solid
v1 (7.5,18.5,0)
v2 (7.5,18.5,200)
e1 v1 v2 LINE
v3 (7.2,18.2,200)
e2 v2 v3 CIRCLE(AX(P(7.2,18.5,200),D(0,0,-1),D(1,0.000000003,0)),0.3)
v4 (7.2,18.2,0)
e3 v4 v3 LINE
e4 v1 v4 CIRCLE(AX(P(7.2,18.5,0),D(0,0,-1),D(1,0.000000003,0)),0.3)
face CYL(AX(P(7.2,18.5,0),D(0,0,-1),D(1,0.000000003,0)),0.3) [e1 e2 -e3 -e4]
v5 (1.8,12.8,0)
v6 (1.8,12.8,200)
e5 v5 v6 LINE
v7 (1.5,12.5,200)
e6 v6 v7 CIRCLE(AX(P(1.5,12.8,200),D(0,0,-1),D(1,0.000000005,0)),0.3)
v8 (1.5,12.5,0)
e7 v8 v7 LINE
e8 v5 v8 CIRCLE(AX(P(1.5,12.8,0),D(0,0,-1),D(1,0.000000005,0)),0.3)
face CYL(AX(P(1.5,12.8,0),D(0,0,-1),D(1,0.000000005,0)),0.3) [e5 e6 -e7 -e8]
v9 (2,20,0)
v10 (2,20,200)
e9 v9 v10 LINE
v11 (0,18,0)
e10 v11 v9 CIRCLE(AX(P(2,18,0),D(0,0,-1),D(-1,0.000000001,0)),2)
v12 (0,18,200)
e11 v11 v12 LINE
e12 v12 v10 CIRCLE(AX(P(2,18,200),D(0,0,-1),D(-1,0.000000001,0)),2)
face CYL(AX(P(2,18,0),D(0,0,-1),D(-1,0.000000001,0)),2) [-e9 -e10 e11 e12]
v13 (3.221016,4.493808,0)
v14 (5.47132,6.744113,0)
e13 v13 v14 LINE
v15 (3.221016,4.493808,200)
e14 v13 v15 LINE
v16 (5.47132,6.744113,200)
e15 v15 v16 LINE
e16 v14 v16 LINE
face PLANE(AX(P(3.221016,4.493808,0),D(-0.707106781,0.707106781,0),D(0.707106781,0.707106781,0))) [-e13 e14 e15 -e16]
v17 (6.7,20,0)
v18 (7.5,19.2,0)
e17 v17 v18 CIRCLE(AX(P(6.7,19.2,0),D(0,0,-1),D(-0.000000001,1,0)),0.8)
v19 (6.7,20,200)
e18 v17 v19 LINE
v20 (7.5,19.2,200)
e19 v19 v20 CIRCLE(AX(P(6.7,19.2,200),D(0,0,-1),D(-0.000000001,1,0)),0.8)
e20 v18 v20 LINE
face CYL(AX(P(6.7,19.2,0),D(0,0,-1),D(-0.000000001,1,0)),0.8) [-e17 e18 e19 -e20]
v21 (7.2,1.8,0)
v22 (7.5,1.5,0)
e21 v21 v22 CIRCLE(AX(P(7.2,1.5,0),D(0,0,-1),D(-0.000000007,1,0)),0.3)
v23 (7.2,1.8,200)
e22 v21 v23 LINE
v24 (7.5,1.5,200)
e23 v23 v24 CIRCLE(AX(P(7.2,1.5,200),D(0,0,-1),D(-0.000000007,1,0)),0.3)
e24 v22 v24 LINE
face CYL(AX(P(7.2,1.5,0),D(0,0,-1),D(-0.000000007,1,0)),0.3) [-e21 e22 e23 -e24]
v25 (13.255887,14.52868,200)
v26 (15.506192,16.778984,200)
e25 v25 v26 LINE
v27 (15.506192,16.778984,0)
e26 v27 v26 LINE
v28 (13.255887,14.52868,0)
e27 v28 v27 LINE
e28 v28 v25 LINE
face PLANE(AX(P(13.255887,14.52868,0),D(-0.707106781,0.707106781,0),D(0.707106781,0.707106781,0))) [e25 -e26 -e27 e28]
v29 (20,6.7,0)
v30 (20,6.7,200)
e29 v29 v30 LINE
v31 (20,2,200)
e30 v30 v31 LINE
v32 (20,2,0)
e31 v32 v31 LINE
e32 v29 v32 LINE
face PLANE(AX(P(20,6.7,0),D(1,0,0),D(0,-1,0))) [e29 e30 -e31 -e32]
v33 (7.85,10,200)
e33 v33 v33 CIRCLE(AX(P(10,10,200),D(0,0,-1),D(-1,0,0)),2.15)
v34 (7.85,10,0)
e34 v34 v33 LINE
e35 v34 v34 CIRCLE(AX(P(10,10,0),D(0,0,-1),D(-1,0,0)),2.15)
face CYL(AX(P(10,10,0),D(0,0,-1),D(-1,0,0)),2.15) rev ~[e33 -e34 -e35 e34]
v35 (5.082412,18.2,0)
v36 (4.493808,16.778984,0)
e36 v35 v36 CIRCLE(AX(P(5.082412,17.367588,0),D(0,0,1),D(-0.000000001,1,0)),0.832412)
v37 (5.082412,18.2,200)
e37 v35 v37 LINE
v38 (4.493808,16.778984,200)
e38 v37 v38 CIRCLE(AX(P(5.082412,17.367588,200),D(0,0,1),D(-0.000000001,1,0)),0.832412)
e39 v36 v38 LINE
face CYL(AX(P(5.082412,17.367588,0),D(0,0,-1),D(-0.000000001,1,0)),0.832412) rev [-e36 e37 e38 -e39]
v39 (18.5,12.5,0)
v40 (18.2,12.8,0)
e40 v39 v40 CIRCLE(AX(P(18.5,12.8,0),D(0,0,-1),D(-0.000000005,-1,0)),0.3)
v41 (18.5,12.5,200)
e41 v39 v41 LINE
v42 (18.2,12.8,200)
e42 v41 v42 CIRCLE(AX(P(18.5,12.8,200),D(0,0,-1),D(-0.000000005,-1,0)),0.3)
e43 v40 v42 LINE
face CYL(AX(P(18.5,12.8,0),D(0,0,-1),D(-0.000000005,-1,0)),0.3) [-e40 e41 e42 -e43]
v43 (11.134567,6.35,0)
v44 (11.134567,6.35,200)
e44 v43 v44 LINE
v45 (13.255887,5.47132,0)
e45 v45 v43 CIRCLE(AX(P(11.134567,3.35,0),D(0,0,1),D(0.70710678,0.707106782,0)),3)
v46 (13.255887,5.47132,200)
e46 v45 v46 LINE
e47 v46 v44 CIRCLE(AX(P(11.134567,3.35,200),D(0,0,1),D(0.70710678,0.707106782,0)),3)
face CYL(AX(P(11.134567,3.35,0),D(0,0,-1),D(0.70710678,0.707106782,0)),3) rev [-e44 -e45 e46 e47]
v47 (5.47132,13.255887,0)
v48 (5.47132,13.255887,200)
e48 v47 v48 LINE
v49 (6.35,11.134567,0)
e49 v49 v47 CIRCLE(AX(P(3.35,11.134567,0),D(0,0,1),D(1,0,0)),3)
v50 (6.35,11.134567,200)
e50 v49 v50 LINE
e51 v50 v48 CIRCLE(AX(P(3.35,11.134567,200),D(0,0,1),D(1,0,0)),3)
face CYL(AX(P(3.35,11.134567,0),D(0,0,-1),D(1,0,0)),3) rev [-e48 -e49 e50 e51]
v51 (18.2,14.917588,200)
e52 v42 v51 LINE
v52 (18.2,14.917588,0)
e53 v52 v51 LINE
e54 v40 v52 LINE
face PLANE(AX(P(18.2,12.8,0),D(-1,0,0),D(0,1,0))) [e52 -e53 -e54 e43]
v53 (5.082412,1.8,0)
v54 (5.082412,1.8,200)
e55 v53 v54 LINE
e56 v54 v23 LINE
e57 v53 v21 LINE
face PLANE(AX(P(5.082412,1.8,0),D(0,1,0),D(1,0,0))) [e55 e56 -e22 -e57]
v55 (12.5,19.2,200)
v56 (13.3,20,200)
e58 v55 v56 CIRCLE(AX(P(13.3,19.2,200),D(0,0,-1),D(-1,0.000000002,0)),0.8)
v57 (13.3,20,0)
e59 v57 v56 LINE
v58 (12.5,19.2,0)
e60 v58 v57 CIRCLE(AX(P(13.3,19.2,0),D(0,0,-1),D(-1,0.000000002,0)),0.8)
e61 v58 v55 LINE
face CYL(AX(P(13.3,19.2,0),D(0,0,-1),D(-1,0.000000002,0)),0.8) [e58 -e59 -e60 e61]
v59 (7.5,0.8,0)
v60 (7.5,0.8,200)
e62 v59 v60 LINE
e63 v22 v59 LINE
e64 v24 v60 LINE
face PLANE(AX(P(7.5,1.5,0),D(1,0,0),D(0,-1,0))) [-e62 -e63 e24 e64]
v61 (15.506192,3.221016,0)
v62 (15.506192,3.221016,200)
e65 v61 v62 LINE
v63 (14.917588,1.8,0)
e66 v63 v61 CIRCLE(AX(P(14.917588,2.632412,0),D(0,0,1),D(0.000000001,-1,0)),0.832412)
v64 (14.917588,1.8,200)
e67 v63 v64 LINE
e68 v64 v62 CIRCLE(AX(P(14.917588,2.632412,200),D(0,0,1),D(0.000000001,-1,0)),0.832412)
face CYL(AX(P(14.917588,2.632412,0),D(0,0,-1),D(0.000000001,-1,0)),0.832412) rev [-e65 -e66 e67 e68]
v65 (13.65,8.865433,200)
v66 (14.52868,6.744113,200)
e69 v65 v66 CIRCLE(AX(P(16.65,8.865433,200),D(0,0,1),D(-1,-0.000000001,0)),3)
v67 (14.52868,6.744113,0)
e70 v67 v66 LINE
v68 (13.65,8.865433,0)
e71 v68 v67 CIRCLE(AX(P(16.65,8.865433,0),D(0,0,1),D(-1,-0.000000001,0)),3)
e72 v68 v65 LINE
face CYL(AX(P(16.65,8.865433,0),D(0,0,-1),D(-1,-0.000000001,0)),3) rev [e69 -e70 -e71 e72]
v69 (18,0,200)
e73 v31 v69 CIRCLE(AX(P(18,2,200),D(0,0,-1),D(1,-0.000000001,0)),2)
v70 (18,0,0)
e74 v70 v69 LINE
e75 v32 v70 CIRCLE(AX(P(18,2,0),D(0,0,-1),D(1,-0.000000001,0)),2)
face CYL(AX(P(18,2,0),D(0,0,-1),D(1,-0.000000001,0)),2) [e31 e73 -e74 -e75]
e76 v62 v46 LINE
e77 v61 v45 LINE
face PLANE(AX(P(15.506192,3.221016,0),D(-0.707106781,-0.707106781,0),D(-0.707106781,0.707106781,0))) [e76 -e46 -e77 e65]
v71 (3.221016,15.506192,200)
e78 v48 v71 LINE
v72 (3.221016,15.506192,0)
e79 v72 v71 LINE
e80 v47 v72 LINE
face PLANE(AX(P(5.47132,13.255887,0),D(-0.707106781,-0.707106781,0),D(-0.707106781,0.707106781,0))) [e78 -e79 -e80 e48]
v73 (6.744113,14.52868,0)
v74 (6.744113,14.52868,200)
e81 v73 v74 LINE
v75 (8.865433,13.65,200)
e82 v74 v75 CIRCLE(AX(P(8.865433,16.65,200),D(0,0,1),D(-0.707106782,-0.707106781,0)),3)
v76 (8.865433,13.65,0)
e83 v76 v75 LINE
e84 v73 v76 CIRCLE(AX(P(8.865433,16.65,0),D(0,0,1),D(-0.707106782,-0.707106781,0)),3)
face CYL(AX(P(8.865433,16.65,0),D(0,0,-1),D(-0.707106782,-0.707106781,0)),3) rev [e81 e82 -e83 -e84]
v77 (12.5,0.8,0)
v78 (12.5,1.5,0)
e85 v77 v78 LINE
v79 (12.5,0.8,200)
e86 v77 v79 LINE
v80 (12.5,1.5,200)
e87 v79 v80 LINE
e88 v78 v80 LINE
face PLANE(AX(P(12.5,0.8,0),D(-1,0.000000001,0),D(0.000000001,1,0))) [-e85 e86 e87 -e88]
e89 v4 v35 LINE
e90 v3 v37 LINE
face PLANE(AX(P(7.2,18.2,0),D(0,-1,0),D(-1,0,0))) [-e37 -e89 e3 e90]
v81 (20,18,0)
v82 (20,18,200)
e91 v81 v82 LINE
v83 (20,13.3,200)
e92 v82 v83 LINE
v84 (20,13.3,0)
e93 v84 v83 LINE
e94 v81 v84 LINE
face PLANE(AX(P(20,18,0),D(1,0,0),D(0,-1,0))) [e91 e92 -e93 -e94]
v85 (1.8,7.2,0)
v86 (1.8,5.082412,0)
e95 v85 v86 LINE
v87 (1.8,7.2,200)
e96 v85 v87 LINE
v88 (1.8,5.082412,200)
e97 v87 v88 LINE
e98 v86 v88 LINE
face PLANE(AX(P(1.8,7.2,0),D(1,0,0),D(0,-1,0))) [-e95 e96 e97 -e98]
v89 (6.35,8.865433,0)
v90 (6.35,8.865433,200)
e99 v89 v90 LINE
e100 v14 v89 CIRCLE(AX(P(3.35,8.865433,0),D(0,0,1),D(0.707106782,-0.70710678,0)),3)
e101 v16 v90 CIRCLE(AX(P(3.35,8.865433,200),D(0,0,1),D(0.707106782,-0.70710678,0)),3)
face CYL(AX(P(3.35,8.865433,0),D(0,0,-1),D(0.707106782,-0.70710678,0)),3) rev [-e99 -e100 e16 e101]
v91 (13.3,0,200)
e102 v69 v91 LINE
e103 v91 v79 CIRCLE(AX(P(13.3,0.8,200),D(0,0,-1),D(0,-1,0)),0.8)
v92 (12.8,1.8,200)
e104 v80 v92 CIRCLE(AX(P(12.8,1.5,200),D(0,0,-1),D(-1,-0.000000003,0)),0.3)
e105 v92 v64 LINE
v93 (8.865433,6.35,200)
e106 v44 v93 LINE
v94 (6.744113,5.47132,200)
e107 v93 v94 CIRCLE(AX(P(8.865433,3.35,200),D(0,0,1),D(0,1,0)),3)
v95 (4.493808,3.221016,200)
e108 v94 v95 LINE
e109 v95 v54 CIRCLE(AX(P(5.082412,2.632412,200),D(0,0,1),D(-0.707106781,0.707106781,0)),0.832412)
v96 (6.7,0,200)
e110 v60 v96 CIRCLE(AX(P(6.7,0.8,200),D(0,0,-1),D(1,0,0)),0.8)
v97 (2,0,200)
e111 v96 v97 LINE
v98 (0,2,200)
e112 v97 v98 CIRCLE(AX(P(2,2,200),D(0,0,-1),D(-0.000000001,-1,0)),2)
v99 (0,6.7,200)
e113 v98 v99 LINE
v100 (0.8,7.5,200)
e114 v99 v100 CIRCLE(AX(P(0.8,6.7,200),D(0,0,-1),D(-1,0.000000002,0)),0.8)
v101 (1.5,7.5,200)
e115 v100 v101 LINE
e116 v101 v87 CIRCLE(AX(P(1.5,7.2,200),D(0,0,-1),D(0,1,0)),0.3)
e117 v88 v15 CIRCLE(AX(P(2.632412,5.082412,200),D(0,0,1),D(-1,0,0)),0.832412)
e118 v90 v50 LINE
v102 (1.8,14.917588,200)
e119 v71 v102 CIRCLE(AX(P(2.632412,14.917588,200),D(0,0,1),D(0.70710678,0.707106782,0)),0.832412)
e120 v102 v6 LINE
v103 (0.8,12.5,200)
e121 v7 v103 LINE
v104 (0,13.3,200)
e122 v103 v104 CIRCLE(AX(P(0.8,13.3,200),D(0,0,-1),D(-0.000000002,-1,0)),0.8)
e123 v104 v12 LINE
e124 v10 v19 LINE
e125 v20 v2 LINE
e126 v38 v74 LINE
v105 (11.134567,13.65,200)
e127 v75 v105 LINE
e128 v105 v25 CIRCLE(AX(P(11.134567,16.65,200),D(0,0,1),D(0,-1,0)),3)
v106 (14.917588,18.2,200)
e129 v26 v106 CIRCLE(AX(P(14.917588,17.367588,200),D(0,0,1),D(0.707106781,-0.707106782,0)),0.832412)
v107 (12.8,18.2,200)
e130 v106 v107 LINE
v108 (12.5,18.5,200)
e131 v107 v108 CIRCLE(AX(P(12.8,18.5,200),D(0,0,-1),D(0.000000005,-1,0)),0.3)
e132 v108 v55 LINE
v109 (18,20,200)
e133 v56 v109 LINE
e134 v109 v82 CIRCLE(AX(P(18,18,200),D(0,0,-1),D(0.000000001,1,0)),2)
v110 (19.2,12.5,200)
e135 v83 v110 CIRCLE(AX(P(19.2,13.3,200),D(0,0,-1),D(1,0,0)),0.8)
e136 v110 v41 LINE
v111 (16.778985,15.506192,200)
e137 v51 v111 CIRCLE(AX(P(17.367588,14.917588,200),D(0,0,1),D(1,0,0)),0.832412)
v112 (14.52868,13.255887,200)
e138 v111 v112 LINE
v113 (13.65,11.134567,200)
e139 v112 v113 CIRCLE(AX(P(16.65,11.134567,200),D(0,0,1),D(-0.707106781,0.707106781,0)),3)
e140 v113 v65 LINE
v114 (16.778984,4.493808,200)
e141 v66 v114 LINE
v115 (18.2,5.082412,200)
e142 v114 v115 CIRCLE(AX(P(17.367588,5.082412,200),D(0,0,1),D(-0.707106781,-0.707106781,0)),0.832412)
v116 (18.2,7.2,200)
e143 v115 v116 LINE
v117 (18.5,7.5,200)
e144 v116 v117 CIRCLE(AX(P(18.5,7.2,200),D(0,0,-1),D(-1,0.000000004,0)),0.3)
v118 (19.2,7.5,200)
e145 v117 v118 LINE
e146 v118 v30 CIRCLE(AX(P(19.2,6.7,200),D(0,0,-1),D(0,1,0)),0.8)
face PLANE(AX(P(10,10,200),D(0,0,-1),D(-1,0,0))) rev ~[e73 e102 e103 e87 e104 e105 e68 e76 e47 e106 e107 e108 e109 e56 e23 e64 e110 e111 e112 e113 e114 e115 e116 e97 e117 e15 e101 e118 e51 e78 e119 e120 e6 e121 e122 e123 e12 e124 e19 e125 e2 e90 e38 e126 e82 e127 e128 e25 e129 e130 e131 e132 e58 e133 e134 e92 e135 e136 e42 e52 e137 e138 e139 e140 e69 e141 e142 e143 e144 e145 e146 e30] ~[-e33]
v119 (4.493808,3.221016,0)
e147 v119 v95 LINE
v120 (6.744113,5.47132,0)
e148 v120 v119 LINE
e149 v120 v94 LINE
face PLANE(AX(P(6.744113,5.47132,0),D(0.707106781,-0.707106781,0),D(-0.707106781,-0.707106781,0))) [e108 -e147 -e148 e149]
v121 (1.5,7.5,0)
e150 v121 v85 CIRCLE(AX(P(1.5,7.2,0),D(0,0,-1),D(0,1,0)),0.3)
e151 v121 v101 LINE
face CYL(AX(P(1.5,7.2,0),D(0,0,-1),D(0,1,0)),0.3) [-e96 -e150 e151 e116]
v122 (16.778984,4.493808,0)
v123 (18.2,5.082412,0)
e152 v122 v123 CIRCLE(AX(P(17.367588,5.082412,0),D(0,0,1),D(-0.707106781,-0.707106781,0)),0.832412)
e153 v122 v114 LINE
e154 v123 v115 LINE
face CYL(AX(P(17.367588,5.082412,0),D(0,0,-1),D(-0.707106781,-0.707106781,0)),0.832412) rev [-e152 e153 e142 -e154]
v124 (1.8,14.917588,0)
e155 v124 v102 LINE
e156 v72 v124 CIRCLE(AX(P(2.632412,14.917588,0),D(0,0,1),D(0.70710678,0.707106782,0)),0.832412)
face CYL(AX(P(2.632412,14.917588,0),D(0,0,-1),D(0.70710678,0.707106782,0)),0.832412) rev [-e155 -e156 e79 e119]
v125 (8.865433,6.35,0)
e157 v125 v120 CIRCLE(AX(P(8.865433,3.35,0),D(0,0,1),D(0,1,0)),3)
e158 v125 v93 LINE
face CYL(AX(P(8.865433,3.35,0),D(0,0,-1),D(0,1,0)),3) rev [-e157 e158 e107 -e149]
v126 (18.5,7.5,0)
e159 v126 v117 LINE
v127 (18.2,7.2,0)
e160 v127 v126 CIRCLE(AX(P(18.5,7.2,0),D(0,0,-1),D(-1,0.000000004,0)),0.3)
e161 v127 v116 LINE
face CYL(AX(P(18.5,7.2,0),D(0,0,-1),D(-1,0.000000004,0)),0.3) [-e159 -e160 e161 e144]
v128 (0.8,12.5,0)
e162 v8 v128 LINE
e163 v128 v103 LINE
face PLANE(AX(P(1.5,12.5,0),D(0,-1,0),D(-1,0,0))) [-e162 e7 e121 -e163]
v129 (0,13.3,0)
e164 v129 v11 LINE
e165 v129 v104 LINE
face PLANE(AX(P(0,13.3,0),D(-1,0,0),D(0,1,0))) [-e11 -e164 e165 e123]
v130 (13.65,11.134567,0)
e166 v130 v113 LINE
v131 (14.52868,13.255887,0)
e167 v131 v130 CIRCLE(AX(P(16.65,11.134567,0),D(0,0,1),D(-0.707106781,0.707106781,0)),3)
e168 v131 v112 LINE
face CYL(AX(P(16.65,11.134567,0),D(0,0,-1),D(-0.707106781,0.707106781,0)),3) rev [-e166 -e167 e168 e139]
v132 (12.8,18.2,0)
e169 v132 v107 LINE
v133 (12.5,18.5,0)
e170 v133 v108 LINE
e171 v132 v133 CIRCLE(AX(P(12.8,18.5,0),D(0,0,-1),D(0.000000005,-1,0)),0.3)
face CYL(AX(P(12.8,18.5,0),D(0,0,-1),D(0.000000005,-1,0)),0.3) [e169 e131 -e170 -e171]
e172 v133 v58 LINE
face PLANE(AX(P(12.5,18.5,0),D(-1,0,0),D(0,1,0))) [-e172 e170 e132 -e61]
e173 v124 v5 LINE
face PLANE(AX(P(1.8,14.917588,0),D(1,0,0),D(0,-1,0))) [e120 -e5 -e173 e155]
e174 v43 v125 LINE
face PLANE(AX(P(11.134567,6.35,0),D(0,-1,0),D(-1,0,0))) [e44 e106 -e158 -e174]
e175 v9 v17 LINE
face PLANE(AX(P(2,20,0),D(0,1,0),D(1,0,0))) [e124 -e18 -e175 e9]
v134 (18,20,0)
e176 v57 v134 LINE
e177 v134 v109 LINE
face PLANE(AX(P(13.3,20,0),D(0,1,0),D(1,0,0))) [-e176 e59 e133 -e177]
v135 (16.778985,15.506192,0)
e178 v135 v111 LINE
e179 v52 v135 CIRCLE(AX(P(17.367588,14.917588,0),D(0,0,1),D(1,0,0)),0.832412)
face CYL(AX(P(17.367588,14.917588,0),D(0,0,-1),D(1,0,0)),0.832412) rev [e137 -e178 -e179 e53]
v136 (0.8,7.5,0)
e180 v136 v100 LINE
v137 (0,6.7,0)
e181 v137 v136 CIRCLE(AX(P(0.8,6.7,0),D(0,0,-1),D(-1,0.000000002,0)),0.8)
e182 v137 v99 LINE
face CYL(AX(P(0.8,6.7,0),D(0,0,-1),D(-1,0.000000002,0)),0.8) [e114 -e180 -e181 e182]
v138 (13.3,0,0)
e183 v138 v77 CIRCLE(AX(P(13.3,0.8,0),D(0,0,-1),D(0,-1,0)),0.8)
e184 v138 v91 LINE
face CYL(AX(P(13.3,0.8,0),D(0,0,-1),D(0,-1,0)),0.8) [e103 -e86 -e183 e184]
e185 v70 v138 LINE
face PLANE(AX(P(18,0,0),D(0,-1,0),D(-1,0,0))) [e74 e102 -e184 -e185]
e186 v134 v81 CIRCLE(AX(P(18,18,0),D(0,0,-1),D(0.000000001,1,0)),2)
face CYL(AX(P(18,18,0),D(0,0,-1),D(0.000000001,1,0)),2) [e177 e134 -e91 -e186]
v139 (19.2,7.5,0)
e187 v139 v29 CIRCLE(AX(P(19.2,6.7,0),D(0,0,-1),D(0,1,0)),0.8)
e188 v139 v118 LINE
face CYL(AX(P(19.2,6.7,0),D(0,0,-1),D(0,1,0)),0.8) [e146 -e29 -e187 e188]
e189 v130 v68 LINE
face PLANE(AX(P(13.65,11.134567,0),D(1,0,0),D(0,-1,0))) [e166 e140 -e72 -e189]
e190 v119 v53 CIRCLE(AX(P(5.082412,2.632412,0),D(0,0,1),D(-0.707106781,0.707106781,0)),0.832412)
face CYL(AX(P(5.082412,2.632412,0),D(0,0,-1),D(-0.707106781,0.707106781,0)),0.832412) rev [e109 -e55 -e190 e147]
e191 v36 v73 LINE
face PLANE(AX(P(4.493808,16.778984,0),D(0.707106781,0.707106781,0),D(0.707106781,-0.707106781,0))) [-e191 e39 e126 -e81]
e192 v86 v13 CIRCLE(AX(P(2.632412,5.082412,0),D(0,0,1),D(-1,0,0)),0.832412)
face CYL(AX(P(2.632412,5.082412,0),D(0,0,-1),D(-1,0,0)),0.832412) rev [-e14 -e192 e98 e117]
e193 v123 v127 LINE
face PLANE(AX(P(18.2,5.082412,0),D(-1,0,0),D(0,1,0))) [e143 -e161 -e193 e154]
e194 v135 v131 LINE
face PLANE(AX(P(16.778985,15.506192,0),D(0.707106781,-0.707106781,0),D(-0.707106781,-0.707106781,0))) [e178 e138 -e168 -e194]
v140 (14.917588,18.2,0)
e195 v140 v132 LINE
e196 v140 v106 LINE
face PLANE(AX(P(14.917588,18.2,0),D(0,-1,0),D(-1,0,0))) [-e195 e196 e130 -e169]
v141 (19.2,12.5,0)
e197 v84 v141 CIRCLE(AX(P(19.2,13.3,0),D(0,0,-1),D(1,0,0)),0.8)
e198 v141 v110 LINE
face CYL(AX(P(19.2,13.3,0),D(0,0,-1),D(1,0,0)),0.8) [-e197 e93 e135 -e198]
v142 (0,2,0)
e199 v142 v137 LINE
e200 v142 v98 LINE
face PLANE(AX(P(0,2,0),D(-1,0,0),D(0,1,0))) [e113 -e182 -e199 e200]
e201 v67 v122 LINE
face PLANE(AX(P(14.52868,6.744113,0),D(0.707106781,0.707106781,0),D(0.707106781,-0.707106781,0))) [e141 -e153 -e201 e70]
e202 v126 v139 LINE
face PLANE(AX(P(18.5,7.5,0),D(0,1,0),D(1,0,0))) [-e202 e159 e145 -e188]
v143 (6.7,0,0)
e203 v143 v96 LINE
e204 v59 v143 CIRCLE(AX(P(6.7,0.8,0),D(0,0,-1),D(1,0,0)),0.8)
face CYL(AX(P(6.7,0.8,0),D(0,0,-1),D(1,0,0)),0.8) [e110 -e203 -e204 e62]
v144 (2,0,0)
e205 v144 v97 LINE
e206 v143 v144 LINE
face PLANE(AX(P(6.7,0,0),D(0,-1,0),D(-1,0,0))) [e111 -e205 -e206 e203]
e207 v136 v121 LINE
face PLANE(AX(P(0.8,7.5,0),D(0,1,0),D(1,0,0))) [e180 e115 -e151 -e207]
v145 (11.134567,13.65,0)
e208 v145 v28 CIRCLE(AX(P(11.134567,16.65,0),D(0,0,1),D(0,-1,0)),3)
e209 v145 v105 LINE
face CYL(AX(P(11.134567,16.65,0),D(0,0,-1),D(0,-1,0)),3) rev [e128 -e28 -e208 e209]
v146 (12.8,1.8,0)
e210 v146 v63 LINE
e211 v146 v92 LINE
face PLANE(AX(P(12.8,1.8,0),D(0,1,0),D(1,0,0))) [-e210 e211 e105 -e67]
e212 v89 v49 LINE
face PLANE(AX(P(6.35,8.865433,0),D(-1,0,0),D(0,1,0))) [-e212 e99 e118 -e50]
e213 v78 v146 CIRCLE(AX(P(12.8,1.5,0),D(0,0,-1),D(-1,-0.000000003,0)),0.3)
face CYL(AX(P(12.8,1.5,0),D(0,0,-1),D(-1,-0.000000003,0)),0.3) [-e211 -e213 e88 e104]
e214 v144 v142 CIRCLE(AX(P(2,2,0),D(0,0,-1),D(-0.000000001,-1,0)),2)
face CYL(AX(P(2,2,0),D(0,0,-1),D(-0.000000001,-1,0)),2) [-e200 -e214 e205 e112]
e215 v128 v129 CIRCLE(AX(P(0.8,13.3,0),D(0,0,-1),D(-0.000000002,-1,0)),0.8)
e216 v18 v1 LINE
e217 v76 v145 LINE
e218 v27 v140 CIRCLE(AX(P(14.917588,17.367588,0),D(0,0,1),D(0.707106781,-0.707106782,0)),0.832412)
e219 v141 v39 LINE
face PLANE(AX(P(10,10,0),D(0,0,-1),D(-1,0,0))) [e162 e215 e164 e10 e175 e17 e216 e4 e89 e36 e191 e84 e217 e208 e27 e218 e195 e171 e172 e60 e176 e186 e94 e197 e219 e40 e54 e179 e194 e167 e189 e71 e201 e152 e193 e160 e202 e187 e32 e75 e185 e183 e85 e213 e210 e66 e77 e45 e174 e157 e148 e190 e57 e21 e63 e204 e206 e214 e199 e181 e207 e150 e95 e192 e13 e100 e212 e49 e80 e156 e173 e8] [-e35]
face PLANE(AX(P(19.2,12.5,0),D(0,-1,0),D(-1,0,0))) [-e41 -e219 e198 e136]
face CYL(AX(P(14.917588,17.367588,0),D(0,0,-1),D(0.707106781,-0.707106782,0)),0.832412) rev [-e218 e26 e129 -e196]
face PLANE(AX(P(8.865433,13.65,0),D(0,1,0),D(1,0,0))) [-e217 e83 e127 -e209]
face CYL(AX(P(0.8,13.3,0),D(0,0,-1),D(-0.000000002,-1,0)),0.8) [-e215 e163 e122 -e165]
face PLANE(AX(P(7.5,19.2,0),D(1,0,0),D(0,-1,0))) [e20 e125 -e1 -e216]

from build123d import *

# Parameters (mm, degrees)
SKETCH1_R           = 2.15
BOSS_EXTRUDE1_DEPTH = 200


with BuildPart() as part:
    # Sketch1 → Boss-Extrude1 (new body)
    with BuildSketch(Plane(origin=(0, 0, 0), x_dir=(-1, 0, 0), z_dir=(0, 0, -1))):
        with BuildLine():
            Line((-12.499999997, 0.800000003), (-12.499999998, 1.500000003))
            ThreePointArc((-12.499999998, 1.500000003), (-12.587867964, 1.712132039), (-12.8, 1.800000005))
            Line((-12.8, 1.800000005), (-14.9175884, 1.800000005))
            ThreePointArc((-14.9175884, 1.800000005), (-15.686636445, 2.313861481), (-15.506192291, 3.221015502))
            Line((-15.506192291, 3.221015502), (-13.255887451, 5.471320342))
            ThreePointArc((-13.255887451, 5.471320342), (-12.282617405, 6.121638595), (-11.134567109, 6.349999998))
            Line((-11.134567109, 6.349999998), (-8.865432906, 6.349999998))
            ThreePointArc((-8.865432906, 6.349999998), (-7.717382611, 6.121638596), (-6.744112565, 5.471320342))
            Line((-6.744112565, 5.471320342), (-4.493807727, 3.221015504))
            ThreePointArc((-4.493807727, 3.221015504), (-4.313363573, 2.313861481), (-5.082411619, 1.800000005))
            Line((-5.082411619, 1.800000005), (-7.20000001, 1.800000005))
            ThreePointArc((-7.20000001, 1.800000005), (-7.412132045, 1.71213204), (-7.50000001, 1.500000005))
            Line((-7.50000001, 1.500000005), (-7.50000001, 0.8))
            ThreePointArc((-7.50000001, 0.8), (-7.265685435, 0.234314575), (-6.70000001, 0))
            Line((-6.70000001, 0), (-2, 0))
            ThreePointArc((-2, 0), (-0.585786438, 0.585786438), (0, 2))
            Line((0, 2), (0, 6.699999998))
            ThreePointArc((0, 6.699999998), (-0.234314576, 7.265685424), (-0.800000003, 7.5))
            Line((-0.800000003, 7.5), (-1.500000007, 7.5))
            ThreePointArc((-1.500000007, 7.5), (-1.712132044, 7.412132033), (-1.80000001, 7.199999997))
            Line((-1.80000001, 7.199999997), (-1.80000001, 5.082411604))
            ThreePointArc((-1.80000001, 5.082411604), (-2.313861485, 4.313363559), (-3.221015507, 4.493807713))
            Line((-3.221015507, 4.493807713), (-5.471320347, 6.744112553))
            ThreePointArc((-5.471320347, 6.744112553), (-6.1216386, 7.717382599), (-6.350000003, 8.865432896))
            Line((-6.350000003, 8.865432896), (-6.350000003, 11.134567105))
            ThreePointArc((-6.350000003, 11.134567105), (-6.121638601, 12.2826174), (-5.471320347, 13.255887446))
            Line((-5.471320347, 13.255887446), (-3.221015511, 15.506192282))
            ThreePointArc((-3.221015511, 15.506192282), (-2.313861487, 15.686636436), (-1.80000001, 14.917588389))
            Line((-1.80000001, 14.917588389), (-1.80000001, 12.799999998))
            ThreePointArc((-1.80000001, 12.799999998), (-1.712132045, 12.587867963), (-1.50000001, 12.499999997))
            Line((-1.50000001, 12.499999997), (-0.8, 12.499999997))
            ThreePointArc((-0.8, 12.499999997), (-0.234314575, 12.734314573), (0, 13.299999998))
            Line((0, 13.299999998), (0, 18))
            ThreePointArc((0, 18), (-0.585786438, 19.414213562), (-2, 20))
            Line((-2, 20), (-6.700000008, 20))
            ThreePointArc((-6.700000008, 20), (-7.265685435, 19.765685424), (-7.50000001, 19.199999998))
            Line((-7.50000001, 19.199999998), (-7.50000001, 18.500000005))
            ThreePointArc((-7.50000001, 18.500000005), (-7.412132044, 18.287867969), (-7.200000008, 18.200000003))
            Line((-7.200000008, 18.200000003), (-5.082411595, 18.200000003))
            ThreePointArc((-5.082411595, 18.200000003), (-4.313363547, 17.686138525), (-4.493807702, 16.7789845))
            Line((-4.493807702, 16.7789845), (-6.744112543, 14.528679659))
            ThreePointArc((-6.744112543, 14.528679659), (-7.717382589, 13.878361405), (-8.865432885, 13.650000003))
            Line((-8.865432885, 13.650000003), (-11.134567111, 13.650000003))
            ThreePointArc((-11.134567111, 13.650000003), (-12.282617406, 13.878361405), (-13.255887452, 14.528679658))
            Line((-13.255887452, 14.528679658), (-15.506192292, 16.778984498))
            ThreePointArc((-15.506192292, 16.778984498), (-15.686636447, 17.686138525), (-14.917588397, 18.200000002))
            Line((-14.917588397, 18.200000002), (-12.799999998, 18.200000003))
            ThreePointArc((-12.799999998, 18.200000003), (-12.587867963, 18.287867968), (-12.499999997, 18.500000002))
            Line((-12.499999997, 18.500000002), (-12.499999997, 19.2))
            ThreePointArc((-12.499999997, 19.2), (-12.734314573, 19.765685425), (-13.299999998, 20))
            Line((-13.299999998, 20), (-18, 20))
            ThreePointArc((-18, 20), (-19.414213562, 19.414213562), (-20, 18))
            Line((-20, 18), (-20, 13.3))
            ThreePointArc((-20, 13.3), (-19.765685424, 12.734314573), (-19.199999998, 12.499999997))
            Line((-19.199999998, 12.499999997), (-18.500000003, 12.499999997))
            ThreePointArc((-18.500000003, 12.499999997), (-18.287867967, 12.587867964), (-18.2, 12.8))
            Line((-18.2, 12.8), (-18.2, 14.91758839))
            ThreePointArc((-18.2, 14.91758839), (-17.686138525, 15.686636435), (-16.778984504, 15.506192281))
            Line((-16.778984504, 15.506192281), (-14.528679657, 13.255887434))
            ThreePointArc((-14.528679657, 13.255887434), (-13.878361403, 12.282617388), (-13.65, 11.134567091))
            Line((-13.65, 11.134567091), (-13.65, 8.865432887))
            ThreePointArc((-13.65, 8.865432887), (-13.878361403, 7.717382591), (-14.528679656, 6.744112546))
            Line((-14.528679656, 6.744112546), (-16.778984496, 4.493807706))
            ThreePointArc((-16.778984496, 4.493807706), (-17.686138522, 4.313363551), (-18.2, 5.0824116))
            Line((-18.2, 5.0824116), (-18.2, 7.2))
            ThreePointArc((-18.2, 7.2), (-18.287867966, 7.412132034), (-18.5, 7.5))
            Line((-18.5, 7.5), (-19.2, 7.5))
            ThreePointArc((-19.2, 7.5), (-19.765685425, 7.265685425), (-20, 6.7))
            Line((-20, 6.7), (-20, 2))
            ThreePointArc((-20, 2), (-19.414213562, 0.585786438), (-18, 0))
            Line((-18, 0), (-13.3, 0))
            ThreePointArc((-13.3, 0), (-12.734314573, 0.234314576), (-12.499999997, 0.800000003))
        make_face()
        with Locations((-10, 10)):
            Circle(SKETCH1_R, mode=Mode.SUBTRACT)
    extrude(amount=-BOSS_EXTRUDE1_DEPTH)


solid = part.part
